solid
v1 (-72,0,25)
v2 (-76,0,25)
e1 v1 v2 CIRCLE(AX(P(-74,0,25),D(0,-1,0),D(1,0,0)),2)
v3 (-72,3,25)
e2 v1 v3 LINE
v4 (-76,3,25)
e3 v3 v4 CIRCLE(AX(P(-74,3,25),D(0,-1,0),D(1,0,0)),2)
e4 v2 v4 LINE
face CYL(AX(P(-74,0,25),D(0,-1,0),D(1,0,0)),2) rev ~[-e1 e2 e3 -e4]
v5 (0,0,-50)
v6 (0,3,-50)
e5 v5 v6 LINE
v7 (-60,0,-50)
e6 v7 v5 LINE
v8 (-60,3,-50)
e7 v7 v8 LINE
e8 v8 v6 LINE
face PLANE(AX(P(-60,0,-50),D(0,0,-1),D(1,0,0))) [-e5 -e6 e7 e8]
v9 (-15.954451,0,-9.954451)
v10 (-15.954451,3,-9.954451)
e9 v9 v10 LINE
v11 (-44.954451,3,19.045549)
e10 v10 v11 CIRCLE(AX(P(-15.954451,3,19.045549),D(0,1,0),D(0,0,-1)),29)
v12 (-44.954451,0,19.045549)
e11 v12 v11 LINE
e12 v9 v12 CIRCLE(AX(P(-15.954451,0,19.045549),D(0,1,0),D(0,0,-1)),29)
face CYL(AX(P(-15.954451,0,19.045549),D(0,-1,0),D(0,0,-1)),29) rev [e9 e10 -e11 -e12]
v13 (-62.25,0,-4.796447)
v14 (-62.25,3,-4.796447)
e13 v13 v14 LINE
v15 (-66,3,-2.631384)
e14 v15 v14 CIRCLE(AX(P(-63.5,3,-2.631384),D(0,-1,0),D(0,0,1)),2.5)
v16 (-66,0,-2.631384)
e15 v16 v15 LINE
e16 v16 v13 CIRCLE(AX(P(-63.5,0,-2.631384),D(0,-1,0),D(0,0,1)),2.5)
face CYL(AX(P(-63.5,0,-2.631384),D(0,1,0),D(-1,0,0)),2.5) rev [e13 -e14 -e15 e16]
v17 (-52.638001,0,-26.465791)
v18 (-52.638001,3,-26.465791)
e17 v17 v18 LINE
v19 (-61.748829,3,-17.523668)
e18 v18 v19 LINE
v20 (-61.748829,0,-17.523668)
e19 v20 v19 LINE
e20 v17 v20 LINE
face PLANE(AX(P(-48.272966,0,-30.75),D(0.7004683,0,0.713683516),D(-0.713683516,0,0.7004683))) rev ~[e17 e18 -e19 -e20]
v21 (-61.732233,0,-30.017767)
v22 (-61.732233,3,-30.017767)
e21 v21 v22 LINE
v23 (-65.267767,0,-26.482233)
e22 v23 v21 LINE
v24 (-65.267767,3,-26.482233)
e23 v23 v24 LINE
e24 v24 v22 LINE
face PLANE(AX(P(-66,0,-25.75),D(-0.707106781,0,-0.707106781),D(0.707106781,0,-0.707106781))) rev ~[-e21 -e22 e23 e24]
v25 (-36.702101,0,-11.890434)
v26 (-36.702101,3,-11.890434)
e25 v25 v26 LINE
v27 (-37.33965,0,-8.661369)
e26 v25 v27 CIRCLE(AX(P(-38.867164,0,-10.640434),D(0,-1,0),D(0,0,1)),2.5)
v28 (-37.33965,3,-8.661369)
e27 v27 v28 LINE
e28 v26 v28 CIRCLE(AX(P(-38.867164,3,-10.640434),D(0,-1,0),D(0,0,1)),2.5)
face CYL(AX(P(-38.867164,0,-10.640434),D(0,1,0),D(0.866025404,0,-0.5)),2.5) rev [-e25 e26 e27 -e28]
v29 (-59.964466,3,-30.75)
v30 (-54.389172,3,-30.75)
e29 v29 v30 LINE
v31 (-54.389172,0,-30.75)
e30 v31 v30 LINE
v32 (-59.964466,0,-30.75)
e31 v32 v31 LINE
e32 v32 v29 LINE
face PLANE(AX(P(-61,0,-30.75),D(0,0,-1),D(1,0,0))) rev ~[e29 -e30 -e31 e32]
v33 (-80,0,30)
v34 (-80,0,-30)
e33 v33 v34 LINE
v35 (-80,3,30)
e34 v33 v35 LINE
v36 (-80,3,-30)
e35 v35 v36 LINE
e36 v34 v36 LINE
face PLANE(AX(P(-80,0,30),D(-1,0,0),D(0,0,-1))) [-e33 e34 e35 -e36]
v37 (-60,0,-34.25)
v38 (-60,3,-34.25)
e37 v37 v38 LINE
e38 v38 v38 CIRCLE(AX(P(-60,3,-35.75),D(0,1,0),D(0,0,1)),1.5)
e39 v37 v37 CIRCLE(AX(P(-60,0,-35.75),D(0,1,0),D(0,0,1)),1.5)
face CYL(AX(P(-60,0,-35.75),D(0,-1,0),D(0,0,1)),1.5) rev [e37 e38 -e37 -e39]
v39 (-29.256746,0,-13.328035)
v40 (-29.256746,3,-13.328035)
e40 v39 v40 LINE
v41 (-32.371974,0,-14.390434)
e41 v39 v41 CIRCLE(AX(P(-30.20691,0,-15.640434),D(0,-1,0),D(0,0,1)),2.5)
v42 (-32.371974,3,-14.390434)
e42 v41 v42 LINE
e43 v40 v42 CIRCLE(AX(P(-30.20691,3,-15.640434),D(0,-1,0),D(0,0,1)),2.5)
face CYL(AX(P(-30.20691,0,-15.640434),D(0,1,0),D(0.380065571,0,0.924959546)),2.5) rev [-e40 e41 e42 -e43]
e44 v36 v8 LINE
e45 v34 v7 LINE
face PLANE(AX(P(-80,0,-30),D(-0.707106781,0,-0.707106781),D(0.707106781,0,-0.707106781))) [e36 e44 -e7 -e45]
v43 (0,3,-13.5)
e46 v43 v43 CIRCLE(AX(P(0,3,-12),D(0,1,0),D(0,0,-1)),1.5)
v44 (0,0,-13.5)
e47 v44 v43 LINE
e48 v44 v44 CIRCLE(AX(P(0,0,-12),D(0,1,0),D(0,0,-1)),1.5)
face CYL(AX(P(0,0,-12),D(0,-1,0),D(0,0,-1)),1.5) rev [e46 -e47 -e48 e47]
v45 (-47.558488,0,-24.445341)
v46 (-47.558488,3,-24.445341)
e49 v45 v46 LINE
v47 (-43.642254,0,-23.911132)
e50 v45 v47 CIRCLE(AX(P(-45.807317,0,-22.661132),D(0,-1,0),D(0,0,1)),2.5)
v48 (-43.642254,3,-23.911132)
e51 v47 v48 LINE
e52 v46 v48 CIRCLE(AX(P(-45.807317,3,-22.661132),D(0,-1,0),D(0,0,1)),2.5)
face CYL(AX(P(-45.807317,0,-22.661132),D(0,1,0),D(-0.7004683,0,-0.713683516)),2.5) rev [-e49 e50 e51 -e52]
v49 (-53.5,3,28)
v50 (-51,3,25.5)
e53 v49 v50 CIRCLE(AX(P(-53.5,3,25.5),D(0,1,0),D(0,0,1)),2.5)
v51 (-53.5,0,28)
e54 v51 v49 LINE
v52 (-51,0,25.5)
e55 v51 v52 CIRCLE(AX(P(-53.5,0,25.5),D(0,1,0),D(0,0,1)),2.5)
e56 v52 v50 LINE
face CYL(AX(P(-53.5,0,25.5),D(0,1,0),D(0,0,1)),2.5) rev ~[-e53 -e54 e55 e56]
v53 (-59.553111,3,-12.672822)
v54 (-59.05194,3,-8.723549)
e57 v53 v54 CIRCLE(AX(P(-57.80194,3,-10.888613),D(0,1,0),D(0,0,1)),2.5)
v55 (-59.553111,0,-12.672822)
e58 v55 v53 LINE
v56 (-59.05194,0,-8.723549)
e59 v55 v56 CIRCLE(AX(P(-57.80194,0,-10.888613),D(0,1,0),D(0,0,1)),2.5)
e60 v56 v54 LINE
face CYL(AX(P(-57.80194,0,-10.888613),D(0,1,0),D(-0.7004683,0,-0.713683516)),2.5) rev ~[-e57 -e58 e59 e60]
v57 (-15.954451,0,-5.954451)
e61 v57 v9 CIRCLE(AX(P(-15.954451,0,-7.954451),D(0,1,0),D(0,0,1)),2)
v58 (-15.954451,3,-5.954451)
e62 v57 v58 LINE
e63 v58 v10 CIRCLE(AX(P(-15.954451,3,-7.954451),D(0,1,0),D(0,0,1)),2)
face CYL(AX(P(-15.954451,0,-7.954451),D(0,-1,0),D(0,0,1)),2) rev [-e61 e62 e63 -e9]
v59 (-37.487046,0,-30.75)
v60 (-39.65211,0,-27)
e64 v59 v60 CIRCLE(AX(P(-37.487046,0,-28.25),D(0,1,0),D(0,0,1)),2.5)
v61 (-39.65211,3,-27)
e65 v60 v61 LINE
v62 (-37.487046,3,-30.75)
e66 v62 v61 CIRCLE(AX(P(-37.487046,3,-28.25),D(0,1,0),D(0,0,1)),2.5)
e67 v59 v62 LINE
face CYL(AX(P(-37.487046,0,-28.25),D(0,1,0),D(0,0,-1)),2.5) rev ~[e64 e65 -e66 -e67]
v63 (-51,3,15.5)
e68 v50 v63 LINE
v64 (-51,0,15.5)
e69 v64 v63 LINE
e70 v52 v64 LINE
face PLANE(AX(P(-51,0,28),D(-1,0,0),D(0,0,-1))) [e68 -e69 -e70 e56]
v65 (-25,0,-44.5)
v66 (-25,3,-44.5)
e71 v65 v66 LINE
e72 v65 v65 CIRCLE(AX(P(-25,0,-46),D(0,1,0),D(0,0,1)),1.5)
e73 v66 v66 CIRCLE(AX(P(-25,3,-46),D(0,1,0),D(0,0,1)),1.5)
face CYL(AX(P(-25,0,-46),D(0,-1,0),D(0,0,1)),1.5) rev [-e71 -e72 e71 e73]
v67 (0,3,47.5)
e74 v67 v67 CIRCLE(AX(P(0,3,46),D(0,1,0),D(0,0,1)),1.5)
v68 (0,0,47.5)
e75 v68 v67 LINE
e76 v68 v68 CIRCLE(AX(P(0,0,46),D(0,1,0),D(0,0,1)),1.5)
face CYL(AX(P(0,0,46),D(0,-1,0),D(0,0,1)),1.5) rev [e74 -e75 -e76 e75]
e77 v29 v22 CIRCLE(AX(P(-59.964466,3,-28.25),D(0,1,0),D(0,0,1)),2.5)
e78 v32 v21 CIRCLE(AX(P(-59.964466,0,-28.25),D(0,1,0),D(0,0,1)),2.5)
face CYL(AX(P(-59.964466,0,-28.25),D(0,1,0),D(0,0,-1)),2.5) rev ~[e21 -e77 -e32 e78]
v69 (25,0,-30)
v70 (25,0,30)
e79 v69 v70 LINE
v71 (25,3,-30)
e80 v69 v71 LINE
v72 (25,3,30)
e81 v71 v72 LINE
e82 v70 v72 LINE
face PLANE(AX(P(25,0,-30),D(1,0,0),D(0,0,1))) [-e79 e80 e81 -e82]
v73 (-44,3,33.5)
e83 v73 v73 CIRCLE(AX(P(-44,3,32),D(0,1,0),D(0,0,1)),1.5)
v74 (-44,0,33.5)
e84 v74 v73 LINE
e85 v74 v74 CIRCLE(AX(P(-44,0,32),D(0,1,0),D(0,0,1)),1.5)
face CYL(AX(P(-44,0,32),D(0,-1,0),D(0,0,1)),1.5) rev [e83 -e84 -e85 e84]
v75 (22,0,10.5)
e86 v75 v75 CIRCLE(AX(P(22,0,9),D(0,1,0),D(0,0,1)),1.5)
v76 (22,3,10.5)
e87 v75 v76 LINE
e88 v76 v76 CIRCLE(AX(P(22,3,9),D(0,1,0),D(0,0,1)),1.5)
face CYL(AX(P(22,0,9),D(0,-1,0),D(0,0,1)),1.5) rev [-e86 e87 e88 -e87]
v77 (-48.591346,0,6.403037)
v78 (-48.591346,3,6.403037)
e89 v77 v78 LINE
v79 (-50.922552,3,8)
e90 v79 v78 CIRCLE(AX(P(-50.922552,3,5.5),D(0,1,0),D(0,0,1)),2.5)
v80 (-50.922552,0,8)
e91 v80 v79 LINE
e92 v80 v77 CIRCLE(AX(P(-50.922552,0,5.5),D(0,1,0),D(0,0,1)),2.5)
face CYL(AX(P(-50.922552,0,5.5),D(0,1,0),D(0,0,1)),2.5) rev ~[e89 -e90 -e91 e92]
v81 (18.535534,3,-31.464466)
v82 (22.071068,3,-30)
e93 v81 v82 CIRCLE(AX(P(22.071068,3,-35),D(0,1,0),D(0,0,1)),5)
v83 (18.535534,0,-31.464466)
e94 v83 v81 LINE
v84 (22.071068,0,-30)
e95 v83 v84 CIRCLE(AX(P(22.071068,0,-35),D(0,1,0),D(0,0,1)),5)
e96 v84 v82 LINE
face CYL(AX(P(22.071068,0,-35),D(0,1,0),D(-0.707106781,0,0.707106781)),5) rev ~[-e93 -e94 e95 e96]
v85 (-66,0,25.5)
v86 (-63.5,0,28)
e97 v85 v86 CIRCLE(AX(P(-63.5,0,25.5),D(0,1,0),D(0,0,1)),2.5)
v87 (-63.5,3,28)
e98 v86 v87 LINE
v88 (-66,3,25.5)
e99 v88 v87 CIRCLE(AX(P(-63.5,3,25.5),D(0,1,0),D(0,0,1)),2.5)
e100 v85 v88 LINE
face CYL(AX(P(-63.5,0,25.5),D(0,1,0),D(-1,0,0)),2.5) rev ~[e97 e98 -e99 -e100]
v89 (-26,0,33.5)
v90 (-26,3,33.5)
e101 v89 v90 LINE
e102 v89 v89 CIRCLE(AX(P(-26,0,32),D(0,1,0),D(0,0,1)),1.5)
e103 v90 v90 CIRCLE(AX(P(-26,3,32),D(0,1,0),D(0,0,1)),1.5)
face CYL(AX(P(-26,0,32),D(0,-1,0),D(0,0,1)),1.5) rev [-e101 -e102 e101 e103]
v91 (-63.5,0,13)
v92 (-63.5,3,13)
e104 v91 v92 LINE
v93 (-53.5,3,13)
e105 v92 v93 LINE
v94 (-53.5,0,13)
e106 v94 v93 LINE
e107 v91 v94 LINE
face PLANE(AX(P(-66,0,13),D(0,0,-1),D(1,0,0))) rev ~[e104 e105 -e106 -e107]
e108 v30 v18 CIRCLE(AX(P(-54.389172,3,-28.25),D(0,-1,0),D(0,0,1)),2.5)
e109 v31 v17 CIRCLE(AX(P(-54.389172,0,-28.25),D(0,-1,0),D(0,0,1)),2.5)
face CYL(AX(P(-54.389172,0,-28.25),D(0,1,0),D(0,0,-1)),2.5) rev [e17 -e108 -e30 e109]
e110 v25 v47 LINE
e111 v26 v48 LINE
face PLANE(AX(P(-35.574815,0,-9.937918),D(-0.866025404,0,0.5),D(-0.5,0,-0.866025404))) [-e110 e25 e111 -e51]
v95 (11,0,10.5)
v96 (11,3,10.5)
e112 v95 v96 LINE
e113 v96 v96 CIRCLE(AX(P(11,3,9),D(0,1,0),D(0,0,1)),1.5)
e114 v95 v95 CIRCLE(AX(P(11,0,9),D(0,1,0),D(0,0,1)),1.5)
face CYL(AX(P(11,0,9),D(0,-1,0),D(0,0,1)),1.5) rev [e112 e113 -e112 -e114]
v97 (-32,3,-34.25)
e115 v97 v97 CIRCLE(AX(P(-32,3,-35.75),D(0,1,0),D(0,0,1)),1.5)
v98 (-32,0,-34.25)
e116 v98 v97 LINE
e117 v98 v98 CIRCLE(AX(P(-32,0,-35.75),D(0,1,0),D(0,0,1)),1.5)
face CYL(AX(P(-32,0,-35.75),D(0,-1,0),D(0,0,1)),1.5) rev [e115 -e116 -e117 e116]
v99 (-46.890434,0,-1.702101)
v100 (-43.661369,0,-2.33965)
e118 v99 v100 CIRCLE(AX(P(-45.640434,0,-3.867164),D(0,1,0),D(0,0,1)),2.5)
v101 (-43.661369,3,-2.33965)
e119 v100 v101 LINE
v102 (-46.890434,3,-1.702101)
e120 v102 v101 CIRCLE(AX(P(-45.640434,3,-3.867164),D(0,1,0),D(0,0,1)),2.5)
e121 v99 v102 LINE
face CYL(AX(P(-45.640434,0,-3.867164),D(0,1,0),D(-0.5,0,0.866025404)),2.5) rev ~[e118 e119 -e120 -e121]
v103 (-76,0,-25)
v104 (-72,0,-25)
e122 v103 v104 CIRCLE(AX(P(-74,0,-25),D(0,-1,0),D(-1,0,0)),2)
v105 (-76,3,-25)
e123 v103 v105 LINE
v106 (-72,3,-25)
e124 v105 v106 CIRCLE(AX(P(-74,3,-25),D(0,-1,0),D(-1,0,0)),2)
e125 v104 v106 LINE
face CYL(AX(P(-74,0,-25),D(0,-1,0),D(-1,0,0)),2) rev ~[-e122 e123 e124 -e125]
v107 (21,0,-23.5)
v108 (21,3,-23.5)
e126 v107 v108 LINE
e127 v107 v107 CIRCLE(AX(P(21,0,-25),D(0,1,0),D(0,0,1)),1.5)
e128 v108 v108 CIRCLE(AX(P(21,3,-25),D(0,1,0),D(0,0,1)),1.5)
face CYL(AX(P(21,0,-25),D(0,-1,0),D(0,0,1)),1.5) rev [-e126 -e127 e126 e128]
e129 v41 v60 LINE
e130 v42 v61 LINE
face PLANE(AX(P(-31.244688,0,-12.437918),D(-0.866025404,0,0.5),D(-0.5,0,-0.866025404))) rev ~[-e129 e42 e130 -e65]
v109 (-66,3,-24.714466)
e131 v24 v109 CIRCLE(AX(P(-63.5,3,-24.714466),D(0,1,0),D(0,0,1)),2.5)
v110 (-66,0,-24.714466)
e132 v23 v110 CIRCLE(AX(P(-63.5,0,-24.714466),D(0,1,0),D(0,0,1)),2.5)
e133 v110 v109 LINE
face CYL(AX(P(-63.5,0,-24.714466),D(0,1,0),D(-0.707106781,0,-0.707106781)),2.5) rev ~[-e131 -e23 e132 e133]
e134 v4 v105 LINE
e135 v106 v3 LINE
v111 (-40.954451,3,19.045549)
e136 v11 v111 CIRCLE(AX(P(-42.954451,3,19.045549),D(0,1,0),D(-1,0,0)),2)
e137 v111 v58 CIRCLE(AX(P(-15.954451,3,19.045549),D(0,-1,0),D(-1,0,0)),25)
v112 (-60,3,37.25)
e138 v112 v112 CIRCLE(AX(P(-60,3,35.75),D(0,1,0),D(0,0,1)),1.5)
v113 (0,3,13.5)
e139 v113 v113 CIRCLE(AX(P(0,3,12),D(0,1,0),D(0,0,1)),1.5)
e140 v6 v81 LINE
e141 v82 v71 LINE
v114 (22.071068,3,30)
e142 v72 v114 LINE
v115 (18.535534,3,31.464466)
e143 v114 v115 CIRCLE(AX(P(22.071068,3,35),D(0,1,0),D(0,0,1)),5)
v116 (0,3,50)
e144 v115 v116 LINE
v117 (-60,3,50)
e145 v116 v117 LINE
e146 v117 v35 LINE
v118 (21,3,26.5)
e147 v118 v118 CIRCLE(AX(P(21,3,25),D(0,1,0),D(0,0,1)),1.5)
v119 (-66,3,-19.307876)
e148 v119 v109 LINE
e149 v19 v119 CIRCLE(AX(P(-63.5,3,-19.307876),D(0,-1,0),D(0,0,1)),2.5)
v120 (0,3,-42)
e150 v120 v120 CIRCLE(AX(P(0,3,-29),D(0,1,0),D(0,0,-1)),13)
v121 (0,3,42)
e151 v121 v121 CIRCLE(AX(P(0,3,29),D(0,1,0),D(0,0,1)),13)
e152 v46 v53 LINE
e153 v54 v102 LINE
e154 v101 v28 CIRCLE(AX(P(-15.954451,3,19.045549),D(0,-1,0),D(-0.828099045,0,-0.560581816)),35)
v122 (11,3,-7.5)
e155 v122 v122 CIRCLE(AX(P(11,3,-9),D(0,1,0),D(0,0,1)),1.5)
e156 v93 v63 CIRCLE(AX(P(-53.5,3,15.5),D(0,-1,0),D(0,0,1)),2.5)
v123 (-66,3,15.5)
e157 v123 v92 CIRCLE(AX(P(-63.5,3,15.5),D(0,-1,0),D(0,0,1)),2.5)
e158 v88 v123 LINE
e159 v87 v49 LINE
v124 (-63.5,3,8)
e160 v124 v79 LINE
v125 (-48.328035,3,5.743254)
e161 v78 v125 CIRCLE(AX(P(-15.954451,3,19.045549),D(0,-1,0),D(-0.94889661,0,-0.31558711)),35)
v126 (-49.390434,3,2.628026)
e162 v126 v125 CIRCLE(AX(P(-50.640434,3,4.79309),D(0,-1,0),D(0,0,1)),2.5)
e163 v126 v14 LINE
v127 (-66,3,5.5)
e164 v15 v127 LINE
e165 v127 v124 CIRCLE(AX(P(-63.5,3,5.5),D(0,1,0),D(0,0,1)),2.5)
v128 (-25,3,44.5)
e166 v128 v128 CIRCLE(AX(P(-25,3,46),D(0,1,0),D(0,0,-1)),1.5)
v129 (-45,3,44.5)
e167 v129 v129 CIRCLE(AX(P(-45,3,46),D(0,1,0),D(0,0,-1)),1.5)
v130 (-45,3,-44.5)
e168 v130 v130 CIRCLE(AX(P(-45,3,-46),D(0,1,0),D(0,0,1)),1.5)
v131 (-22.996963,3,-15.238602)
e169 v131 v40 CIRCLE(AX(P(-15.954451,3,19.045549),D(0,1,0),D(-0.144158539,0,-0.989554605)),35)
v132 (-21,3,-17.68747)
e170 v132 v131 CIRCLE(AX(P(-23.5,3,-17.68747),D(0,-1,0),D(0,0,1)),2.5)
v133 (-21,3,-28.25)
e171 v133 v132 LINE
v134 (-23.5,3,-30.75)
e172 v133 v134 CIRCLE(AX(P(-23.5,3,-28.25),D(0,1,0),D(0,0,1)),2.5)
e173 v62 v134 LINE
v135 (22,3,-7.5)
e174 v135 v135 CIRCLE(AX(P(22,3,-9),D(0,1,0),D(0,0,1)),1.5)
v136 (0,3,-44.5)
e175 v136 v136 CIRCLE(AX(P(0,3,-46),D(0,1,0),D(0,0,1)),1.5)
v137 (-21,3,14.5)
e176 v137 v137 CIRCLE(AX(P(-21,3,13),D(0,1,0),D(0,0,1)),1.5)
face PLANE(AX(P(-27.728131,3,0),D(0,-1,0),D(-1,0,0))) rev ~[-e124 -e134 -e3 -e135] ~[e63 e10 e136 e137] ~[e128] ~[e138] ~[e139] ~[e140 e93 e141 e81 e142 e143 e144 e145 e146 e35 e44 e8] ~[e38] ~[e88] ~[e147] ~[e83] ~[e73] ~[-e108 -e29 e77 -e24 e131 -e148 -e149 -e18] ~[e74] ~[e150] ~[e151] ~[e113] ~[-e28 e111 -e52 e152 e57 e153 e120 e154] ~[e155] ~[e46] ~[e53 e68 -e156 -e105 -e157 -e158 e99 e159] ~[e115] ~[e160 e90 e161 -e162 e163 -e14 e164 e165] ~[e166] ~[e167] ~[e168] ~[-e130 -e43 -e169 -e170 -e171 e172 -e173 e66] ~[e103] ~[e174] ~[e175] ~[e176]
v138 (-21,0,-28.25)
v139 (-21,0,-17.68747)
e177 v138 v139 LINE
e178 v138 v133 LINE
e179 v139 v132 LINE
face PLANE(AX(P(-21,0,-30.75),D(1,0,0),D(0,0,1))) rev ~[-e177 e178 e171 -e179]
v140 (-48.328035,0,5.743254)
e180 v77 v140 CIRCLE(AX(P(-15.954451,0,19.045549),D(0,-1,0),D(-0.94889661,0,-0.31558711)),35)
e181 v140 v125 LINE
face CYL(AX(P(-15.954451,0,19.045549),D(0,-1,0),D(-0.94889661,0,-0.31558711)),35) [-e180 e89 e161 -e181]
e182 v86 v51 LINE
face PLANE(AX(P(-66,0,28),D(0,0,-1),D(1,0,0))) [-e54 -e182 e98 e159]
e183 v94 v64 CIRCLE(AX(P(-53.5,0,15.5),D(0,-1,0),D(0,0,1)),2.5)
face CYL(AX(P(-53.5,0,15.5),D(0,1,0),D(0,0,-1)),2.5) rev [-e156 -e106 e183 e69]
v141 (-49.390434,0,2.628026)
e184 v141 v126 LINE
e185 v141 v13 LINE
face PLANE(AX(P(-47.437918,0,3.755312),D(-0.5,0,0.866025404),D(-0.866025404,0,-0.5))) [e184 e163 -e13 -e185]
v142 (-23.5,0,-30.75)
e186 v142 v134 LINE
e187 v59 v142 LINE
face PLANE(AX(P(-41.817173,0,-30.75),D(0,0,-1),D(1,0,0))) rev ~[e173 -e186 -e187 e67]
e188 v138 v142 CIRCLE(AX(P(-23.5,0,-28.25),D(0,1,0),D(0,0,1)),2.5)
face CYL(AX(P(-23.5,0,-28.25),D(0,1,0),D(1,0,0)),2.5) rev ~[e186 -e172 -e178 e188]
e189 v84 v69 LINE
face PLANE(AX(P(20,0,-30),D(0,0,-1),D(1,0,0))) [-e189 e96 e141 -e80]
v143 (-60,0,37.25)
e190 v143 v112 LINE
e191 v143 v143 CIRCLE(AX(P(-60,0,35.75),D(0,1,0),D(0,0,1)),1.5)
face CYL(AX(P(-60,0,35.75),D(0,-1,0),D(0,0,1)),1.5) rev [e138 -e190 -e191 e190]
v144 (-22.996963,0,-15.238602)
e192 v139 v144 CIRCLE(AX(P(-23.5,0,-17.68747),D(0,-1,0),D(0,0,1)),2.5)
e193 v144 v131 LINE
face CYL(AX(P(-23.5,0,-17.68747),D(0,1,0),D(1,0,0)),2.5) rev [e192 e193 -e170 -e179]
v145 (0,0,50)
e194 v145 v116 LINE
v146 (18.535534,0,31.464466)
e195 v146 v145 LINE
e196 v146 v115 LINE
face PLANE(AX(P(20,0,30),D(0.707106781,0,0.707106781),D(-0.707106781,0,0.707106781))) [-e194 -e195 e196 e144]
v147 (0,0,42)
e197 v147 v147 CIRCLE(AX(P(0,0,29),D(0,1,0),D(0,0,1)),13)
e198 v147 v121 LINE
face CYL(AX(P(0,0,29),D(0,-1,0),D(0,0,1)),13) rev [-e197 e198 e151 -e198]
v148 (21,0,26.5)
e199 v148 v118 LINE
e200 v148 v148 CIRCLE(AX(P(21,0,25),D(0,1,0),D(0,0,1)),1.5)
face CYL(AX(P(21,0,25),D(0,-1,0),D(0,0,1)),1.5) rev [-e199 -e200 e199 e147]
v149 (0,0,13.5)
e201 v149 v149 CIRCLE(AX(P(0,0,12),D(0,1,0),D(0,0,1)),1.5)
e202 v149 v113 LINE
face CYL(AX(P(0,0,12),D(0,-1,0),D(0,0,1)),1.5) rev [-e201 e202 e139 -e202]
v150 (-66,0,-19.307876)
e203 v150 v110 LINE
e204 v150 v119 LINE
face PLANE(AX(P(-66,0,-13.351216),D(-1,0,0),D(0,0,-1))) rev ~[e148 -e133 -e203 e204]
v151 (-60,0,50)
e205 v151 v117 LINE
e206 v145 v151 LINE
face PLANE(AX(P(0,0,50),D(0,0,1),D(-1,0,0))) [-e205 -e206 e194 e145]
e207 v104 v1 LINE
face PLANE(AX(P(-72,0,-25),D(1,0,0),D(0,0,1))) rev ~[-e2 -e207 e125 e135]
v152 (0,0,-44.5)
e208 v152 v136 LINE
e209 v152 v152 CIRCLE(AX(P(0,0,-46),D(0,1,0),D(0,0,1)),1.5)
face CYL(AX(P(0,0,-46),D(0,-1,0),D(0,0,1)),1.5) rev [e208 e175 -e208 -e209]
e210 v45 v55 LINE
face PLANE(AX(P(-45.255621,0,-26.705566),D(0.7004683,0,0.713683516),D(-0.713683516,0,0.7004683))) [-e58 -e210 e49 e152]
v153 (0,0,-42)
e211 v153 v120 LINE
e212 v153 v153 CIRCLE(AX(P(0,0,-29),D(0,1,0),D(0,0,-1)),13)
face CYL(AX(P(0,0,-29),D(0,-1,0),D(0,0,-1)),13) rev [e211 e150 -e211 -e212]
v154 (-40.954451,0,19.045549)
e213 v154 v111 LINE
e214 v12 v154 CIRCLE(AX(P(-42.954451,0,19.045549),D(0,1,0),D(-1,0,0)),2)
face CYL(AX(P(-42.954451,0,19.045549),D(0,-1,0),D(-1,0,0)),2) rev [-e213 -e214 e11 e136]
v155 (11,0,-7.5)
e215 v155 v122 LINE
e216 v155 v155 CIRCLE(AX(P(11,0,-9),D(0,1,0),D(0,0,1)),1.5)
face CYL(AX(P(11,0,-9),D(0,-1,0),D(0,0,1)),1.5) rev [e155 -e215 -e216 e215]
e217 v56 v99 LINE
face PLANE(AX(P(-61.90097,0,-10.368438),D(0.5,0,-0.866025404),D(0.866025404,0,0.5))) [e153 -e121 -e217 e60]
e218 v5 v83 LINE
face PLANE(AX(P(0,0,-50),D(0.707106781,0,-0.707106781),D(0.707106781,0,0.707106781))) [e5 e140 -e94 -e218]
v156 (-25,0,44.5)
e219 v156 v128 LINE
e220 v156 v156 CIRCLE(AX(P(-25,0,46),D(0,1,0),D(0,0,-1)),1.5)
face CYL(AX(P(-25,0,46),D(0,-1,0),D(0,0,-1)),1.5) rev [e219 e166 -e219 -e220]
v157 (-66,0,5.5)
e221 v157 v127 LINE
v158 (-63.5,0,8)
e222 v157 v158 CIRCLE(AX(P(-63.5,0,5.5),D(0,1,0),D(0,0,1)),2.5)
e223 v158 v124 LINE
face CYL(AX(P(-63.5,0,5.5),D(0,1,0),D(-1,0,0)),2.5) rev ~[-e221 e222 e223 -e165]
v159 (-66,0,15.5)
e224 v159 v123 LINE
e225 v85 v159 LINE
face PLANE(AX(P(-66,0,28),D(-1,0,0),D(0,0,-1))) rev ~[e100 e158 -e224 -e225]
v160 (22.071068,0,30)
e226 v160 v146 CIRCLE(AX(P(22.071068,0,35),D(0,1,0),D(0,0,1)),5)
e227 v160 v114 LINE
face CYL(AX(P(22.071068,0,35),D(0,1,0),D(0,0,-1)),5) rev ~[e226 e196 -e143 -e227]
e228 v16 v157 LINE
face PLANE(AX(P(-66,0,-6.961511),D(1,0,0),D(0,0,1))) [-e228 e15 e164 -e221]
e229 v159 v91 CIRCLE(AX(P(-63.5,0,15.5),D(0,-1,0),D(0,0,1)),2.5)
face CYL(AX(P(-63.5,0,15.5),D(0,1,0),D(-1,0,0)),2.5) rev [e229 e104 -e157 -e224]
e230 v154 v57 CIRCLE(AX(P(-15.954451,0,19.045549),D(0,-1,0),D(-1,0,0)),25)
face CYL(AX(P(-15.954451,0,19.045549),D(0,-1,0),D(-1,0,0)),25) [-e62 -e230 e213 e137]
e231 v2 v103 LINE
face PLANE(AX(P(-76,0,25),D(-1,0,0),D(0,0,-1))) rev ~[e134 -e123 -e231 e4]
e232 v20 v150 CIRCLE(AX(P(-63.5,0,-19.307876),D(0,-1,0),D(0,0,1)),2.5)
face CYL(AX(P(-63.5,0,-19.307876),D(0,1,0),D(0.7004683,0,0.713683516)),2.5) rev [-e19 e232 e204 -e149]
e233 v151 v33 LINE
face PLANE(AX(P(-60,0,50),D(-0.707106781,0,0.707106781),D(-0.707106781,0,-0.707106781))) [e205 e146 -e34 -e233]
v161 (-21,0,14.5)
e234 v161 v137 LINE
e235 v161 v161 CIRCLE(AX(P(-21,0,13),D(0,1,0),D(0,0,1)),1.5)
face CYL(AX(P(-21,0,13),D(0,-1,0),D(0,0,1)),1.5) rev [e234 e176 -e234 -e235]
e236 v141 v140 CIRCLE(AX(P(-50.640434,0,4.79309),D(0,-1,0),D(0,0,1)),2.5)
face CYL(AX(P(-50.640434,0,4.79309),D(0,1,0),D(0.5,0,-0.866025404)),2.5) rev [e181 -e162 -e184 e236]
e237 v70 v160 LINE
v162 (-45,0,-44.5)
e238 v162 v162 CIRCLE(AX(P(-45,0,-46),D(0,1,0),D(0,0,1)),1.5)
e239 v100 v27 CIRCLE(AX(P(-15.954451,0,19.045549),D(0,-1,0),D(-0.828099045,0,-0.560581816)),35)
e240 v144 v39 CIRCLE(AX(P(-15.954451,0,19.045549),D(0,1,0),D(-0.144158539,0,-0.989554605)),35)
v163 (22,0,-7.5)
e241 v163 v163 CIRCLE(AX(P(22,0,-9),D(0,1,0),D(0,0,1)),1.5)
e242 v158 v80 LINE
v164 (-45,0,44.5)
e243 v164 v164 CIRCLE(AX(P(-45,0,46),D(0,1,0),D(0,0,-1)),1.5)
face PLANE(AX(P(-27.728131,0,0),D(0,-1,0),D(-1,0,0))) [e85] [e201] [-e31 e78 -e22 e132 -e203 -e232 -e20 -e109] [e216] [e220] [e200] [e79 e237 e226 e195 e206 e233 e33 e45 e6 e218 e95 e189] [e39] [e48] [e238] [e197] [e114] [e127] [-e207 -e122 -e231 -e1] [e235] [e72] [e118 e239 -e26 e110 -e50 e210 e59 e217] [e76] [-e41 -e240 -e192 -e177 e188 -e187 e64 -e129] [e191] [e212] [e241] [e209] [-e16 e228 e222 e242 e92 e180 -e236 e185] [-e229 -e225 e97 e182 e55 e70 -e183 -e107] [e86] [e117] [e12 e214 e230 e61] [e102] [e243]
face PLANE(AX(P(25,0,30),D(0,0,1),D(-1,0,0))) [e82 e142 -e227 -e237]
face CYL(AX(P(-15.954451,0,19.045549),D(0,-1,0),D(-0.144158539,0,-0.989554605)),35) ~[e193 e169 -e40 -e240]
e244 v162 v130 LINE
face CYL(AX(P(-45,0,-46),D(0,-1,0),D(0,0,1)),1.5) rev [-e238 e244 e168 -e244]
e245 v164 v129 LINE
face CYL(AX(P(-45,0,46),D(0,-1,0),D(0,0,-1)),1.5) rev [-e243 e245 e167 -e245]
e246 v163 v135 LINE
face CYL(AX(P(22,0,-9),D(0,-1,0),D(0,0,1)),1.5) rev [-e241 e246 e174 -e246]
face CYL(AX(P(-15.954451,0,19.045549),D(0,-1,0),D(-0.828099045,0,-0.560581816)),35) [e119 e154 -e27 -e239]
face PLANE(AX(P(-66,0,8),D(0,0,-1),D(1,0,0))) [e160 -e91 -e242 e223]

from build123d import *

# Parameters (mm, degrees)
SKETCH_1_R      = 1.5
SKETCH_1_R_2    = 13
SKETCH_1_W      = 15
SKETCH_1_H      = 15
EXTRUDE_1_DEPTH = 3
FILLET_1_R      = 2.5
FILLET_2_R      = 5


with BuildPart() as part:
    # 草图1 → 凸台-拉伸1 (new body)
    with BuildSketch(Plane(origin=(0, 0, 0), x_dir=(1, 0, 0), z_dir=(0, 1, 0))):
        Polygon((-60, 50), (0, 50), (20, 30), (25, 30), (25, -30), (20, -30), (0, -50), (-60, -50), (-80, -30), (-80, 30), align=None)
        with Locations(Location((-45, 46, 0), (0, 0, 270))):
            Circle(SKETCH_1_R, mode=Mode.SUBTRACT)
        with Locations(Location((0, 29, 0), (0, 0, 90))):
            Circle(SKETCH_1_R_2, mode=Mode.SUBTRACT)
        with Locations(Location((-25, 46, 0), (0, 0, 270))):
            Circle(SKETCH_1_R, mode=Mode.SUBTRACT)
        with Locations(Location((-45, -46, 0), (0, 0, 90))):
            Circle(SKETCH_1_R, mode=Mode.SUBTRACT)
        with Locations(Location((-25, -46, 0), (0, 0, 90))):
            Circle(SKETCH_1_R, mode=Mode.SUBTRACT)
        with Locations(Location((-60, 35.75, 0), (0, 0, 270))):
            Circle(SKETCH_1_R, mode=Mode.SUBTRACT)
        with Locations(Location((-32, 35.75, 0), (0, 0, 270))):
            Circle(SKETCH_1_R, mode=Mode.SUBTRACT)
        with Locations(Location((-60, -35.75, 0), (0, 0, 270))):
            Circle(SKETCH_1_R, mode=Mode.SUBTRACT)
        with Locations(Location((-26, -32, 0), (0, 0, 270))):
            Circle(SKETCH_1_R, mode=Mode.SUBTRACT)
        with Locations(Location((-44, -32, 0), (0, 0, 270))):
            Circle(SKETCH_1_R, mode=Mode.SUBTRACT)
        with Locations(Location((11, -9, 0), (0, 0, 270))):
            Circle(SKETCH_1_R, mode=Mode.SUBTRACT)
        with Locations(Location((11, 9, 0), (0, 0, 270))):
            Circle(SKETCH_1_R, mode=Mode.SUBTRACT)
        with Locations(Location((-21, -13, 0), (0, 0, 270))):
            Circle(SKETCH_1_R, mode=Mode.SUBTRACT)
        with Locations(Location((0, -46, 0), (0, 0, 270))):
            Circle(SKETCH_1_R, mode=Mode.SUBTRACT)
        with Locations(Location((0, 46, 0), (0, 0, 270))):
            Circle(SKETCH_1_R, mode=Mode.SUBTRACT)
        with Locations(Location((0, -29, 0), (0, 0, 270))):
            Circle(SKETCH_1_R_2, mode=Mode.SUBTRACT)
        with Locations(Location((22, 9, 0), (0, 0, 270))):
            Circle(SKETCH_1_R, mode=Mode.SUBTRACT)
        with Locations(Location((22, -9, 0), (0, 0, 270))):
            Circle(SKETCH_1_R, mode=Mode.SUBTRACT)
        with Locations(Location((21, 25, 0), (0, 0, 270))):
            Circle(SKETCH_1_R, mode=Mode.SUBTRACT)
        with Locations(Location((21, -25, 0), (0, 0, 270))):
            Circle(SKETCH_1_R, mode=Mode.SUBTRACT)
        with Locations(Location((0, -12, 0), (0, 0, 270))):
            Circle(SKETCH_1_R, mode=Mode.SUBTRACT)
        with Locations(Location((0, 12, 0), (0, 0, 90))):
            Circle(SKETCH_1_R, mode=Mode.SUBTRACT)
        with BuildLine():
            Line((-76, -25), (-76, 25))
            ThreePointArc((-76, 25), (-74, 27), (-72, 25))
            Line((-72, 25), (-72, -25))
            ThreePointArc((-72, -25), (-74, -27), (-76, -25))
        make_face(mode=Mode.SUBTRACT)
        with BuildLine():
            Line((-66, -8), (-49.165832492, -8))
            ThreePointArc((-49.165832492, -8), (-48.371424783, -5.849344075), (-47.437917706, -3.755312305))
            Line((-47.437917706, -3.755312305), (-66, 6.961510904))
            Line((-66, 6.961510904), (-66, -8))
        make_face(mode=Mode.SUBTRACT)
        Polygon((-61, 30.75), (-48.272965565, 30.75), (-66, 13.351215514), (-66, 25.75), align=None, mode=Mode.SUBTRACT)
        with BuildLine():
            Line((-21, 30.75), (-21, 15.588862316))
            ThreePointArc((-21, 15.588862316), (-26.243676334, 14.407879152), (-31.244687695, 12.437917706))
            Line((-31.244687695, 12.437917706), (-41.817173337, 30.75))
            Line((-41.817173337, 30.75), (-21, 30.75))
        make_face(mode=Mode.SUBTRACT)
        with BuildLine():
            Line((-61.900970054, 10.368437553), (-44.937917706, 0.574814714))
            ThreePointArc((-44.937917706, 0.574814714), (-40.703188492, 5.703188492), (-35.574814714, 9.937917706))
            Line((-35.574814714, 9.937917706), (-45.25562103, 26.705566103))
            Line((-45.25562103, 26.705566103), (-61.900970054, 10.368437553))
        make_face(mode=Mode.SUBTRACT)
        with Locations((-58.5, -20.5)):
            Rectangle(SKETCH_1_W, SKETCH_1_H, mode=Mode.SUBTRACT)
        with BuildLine():
            ThreePointArc((-15.95445115, 9.95445115), (-36.460547805, 1.460547805), (-44.95445115, -19.04554885))
            ThreePointArc((-44.95445115, -19.04554885), (-42.95445115, -21.04554885), (-40.95445115, -19.04554885))
            ThreePointArc((-40.95445115, -19.04554885), (-33.63212068, -1.36787932), (-15.95445115, 5.95445115))
            ThreePointArc((-15.95445115, 5.95445115), (-13.95445115, 7.95445115), (-15.95445115, 9.95445115))
        make_face(mode=Mode.SUBTRACT)
    extrude(amount=EXTRUDE_1_DEPTH)

    # 圆角1
    fillet_1_edges = [part.edges().sort_by_distance(p)[0] for p in [
        (-66, 1.5, -6.961510904),
        (-66, 1.5, 8),
        (-49.165832492, 1.5, 8),
        (-47.437917706, 1.5, 3.755312305),
        (-61, 1.5, -30.75),
        (-66, 1.5, -25.75),
        (-66, 1.5, -13.351215514),
        (-48.272965565, 1.5, -30.75),
        (-45.25562103, 1.5, -26.705566103),
        (-61.900970054, 1.5, -10.368437553),
        (-44.937917706, 1.5, -0.574814714),
        (-35.574814714, 1.5, -9.937917706),
        (-66, 1.5, 13),
        (-66, 1.5, 28),
        (-51, 1.5, 28),
        (-51, 1.5, 13),
        (-31.244687695, 1.5, -12.437917706),
        (-21, 1.5, -15.588862316),
        (-21, 1.5, -30.75),
        (-41.817173337, 1.5, -30.75),
    ]]
    fillet(fillet_1_edges, radius=FILLET_1_R)

    # 圆角2
    fillet_2_edges = [part.edges().sort_by_distance(p)[0] for p in [
        (20, 1.5, -30),
        (20, 1.5, 30),
    ]]
    fillet(fillet_2_edges, radius=FILLET_2_R)


solid = part.part
